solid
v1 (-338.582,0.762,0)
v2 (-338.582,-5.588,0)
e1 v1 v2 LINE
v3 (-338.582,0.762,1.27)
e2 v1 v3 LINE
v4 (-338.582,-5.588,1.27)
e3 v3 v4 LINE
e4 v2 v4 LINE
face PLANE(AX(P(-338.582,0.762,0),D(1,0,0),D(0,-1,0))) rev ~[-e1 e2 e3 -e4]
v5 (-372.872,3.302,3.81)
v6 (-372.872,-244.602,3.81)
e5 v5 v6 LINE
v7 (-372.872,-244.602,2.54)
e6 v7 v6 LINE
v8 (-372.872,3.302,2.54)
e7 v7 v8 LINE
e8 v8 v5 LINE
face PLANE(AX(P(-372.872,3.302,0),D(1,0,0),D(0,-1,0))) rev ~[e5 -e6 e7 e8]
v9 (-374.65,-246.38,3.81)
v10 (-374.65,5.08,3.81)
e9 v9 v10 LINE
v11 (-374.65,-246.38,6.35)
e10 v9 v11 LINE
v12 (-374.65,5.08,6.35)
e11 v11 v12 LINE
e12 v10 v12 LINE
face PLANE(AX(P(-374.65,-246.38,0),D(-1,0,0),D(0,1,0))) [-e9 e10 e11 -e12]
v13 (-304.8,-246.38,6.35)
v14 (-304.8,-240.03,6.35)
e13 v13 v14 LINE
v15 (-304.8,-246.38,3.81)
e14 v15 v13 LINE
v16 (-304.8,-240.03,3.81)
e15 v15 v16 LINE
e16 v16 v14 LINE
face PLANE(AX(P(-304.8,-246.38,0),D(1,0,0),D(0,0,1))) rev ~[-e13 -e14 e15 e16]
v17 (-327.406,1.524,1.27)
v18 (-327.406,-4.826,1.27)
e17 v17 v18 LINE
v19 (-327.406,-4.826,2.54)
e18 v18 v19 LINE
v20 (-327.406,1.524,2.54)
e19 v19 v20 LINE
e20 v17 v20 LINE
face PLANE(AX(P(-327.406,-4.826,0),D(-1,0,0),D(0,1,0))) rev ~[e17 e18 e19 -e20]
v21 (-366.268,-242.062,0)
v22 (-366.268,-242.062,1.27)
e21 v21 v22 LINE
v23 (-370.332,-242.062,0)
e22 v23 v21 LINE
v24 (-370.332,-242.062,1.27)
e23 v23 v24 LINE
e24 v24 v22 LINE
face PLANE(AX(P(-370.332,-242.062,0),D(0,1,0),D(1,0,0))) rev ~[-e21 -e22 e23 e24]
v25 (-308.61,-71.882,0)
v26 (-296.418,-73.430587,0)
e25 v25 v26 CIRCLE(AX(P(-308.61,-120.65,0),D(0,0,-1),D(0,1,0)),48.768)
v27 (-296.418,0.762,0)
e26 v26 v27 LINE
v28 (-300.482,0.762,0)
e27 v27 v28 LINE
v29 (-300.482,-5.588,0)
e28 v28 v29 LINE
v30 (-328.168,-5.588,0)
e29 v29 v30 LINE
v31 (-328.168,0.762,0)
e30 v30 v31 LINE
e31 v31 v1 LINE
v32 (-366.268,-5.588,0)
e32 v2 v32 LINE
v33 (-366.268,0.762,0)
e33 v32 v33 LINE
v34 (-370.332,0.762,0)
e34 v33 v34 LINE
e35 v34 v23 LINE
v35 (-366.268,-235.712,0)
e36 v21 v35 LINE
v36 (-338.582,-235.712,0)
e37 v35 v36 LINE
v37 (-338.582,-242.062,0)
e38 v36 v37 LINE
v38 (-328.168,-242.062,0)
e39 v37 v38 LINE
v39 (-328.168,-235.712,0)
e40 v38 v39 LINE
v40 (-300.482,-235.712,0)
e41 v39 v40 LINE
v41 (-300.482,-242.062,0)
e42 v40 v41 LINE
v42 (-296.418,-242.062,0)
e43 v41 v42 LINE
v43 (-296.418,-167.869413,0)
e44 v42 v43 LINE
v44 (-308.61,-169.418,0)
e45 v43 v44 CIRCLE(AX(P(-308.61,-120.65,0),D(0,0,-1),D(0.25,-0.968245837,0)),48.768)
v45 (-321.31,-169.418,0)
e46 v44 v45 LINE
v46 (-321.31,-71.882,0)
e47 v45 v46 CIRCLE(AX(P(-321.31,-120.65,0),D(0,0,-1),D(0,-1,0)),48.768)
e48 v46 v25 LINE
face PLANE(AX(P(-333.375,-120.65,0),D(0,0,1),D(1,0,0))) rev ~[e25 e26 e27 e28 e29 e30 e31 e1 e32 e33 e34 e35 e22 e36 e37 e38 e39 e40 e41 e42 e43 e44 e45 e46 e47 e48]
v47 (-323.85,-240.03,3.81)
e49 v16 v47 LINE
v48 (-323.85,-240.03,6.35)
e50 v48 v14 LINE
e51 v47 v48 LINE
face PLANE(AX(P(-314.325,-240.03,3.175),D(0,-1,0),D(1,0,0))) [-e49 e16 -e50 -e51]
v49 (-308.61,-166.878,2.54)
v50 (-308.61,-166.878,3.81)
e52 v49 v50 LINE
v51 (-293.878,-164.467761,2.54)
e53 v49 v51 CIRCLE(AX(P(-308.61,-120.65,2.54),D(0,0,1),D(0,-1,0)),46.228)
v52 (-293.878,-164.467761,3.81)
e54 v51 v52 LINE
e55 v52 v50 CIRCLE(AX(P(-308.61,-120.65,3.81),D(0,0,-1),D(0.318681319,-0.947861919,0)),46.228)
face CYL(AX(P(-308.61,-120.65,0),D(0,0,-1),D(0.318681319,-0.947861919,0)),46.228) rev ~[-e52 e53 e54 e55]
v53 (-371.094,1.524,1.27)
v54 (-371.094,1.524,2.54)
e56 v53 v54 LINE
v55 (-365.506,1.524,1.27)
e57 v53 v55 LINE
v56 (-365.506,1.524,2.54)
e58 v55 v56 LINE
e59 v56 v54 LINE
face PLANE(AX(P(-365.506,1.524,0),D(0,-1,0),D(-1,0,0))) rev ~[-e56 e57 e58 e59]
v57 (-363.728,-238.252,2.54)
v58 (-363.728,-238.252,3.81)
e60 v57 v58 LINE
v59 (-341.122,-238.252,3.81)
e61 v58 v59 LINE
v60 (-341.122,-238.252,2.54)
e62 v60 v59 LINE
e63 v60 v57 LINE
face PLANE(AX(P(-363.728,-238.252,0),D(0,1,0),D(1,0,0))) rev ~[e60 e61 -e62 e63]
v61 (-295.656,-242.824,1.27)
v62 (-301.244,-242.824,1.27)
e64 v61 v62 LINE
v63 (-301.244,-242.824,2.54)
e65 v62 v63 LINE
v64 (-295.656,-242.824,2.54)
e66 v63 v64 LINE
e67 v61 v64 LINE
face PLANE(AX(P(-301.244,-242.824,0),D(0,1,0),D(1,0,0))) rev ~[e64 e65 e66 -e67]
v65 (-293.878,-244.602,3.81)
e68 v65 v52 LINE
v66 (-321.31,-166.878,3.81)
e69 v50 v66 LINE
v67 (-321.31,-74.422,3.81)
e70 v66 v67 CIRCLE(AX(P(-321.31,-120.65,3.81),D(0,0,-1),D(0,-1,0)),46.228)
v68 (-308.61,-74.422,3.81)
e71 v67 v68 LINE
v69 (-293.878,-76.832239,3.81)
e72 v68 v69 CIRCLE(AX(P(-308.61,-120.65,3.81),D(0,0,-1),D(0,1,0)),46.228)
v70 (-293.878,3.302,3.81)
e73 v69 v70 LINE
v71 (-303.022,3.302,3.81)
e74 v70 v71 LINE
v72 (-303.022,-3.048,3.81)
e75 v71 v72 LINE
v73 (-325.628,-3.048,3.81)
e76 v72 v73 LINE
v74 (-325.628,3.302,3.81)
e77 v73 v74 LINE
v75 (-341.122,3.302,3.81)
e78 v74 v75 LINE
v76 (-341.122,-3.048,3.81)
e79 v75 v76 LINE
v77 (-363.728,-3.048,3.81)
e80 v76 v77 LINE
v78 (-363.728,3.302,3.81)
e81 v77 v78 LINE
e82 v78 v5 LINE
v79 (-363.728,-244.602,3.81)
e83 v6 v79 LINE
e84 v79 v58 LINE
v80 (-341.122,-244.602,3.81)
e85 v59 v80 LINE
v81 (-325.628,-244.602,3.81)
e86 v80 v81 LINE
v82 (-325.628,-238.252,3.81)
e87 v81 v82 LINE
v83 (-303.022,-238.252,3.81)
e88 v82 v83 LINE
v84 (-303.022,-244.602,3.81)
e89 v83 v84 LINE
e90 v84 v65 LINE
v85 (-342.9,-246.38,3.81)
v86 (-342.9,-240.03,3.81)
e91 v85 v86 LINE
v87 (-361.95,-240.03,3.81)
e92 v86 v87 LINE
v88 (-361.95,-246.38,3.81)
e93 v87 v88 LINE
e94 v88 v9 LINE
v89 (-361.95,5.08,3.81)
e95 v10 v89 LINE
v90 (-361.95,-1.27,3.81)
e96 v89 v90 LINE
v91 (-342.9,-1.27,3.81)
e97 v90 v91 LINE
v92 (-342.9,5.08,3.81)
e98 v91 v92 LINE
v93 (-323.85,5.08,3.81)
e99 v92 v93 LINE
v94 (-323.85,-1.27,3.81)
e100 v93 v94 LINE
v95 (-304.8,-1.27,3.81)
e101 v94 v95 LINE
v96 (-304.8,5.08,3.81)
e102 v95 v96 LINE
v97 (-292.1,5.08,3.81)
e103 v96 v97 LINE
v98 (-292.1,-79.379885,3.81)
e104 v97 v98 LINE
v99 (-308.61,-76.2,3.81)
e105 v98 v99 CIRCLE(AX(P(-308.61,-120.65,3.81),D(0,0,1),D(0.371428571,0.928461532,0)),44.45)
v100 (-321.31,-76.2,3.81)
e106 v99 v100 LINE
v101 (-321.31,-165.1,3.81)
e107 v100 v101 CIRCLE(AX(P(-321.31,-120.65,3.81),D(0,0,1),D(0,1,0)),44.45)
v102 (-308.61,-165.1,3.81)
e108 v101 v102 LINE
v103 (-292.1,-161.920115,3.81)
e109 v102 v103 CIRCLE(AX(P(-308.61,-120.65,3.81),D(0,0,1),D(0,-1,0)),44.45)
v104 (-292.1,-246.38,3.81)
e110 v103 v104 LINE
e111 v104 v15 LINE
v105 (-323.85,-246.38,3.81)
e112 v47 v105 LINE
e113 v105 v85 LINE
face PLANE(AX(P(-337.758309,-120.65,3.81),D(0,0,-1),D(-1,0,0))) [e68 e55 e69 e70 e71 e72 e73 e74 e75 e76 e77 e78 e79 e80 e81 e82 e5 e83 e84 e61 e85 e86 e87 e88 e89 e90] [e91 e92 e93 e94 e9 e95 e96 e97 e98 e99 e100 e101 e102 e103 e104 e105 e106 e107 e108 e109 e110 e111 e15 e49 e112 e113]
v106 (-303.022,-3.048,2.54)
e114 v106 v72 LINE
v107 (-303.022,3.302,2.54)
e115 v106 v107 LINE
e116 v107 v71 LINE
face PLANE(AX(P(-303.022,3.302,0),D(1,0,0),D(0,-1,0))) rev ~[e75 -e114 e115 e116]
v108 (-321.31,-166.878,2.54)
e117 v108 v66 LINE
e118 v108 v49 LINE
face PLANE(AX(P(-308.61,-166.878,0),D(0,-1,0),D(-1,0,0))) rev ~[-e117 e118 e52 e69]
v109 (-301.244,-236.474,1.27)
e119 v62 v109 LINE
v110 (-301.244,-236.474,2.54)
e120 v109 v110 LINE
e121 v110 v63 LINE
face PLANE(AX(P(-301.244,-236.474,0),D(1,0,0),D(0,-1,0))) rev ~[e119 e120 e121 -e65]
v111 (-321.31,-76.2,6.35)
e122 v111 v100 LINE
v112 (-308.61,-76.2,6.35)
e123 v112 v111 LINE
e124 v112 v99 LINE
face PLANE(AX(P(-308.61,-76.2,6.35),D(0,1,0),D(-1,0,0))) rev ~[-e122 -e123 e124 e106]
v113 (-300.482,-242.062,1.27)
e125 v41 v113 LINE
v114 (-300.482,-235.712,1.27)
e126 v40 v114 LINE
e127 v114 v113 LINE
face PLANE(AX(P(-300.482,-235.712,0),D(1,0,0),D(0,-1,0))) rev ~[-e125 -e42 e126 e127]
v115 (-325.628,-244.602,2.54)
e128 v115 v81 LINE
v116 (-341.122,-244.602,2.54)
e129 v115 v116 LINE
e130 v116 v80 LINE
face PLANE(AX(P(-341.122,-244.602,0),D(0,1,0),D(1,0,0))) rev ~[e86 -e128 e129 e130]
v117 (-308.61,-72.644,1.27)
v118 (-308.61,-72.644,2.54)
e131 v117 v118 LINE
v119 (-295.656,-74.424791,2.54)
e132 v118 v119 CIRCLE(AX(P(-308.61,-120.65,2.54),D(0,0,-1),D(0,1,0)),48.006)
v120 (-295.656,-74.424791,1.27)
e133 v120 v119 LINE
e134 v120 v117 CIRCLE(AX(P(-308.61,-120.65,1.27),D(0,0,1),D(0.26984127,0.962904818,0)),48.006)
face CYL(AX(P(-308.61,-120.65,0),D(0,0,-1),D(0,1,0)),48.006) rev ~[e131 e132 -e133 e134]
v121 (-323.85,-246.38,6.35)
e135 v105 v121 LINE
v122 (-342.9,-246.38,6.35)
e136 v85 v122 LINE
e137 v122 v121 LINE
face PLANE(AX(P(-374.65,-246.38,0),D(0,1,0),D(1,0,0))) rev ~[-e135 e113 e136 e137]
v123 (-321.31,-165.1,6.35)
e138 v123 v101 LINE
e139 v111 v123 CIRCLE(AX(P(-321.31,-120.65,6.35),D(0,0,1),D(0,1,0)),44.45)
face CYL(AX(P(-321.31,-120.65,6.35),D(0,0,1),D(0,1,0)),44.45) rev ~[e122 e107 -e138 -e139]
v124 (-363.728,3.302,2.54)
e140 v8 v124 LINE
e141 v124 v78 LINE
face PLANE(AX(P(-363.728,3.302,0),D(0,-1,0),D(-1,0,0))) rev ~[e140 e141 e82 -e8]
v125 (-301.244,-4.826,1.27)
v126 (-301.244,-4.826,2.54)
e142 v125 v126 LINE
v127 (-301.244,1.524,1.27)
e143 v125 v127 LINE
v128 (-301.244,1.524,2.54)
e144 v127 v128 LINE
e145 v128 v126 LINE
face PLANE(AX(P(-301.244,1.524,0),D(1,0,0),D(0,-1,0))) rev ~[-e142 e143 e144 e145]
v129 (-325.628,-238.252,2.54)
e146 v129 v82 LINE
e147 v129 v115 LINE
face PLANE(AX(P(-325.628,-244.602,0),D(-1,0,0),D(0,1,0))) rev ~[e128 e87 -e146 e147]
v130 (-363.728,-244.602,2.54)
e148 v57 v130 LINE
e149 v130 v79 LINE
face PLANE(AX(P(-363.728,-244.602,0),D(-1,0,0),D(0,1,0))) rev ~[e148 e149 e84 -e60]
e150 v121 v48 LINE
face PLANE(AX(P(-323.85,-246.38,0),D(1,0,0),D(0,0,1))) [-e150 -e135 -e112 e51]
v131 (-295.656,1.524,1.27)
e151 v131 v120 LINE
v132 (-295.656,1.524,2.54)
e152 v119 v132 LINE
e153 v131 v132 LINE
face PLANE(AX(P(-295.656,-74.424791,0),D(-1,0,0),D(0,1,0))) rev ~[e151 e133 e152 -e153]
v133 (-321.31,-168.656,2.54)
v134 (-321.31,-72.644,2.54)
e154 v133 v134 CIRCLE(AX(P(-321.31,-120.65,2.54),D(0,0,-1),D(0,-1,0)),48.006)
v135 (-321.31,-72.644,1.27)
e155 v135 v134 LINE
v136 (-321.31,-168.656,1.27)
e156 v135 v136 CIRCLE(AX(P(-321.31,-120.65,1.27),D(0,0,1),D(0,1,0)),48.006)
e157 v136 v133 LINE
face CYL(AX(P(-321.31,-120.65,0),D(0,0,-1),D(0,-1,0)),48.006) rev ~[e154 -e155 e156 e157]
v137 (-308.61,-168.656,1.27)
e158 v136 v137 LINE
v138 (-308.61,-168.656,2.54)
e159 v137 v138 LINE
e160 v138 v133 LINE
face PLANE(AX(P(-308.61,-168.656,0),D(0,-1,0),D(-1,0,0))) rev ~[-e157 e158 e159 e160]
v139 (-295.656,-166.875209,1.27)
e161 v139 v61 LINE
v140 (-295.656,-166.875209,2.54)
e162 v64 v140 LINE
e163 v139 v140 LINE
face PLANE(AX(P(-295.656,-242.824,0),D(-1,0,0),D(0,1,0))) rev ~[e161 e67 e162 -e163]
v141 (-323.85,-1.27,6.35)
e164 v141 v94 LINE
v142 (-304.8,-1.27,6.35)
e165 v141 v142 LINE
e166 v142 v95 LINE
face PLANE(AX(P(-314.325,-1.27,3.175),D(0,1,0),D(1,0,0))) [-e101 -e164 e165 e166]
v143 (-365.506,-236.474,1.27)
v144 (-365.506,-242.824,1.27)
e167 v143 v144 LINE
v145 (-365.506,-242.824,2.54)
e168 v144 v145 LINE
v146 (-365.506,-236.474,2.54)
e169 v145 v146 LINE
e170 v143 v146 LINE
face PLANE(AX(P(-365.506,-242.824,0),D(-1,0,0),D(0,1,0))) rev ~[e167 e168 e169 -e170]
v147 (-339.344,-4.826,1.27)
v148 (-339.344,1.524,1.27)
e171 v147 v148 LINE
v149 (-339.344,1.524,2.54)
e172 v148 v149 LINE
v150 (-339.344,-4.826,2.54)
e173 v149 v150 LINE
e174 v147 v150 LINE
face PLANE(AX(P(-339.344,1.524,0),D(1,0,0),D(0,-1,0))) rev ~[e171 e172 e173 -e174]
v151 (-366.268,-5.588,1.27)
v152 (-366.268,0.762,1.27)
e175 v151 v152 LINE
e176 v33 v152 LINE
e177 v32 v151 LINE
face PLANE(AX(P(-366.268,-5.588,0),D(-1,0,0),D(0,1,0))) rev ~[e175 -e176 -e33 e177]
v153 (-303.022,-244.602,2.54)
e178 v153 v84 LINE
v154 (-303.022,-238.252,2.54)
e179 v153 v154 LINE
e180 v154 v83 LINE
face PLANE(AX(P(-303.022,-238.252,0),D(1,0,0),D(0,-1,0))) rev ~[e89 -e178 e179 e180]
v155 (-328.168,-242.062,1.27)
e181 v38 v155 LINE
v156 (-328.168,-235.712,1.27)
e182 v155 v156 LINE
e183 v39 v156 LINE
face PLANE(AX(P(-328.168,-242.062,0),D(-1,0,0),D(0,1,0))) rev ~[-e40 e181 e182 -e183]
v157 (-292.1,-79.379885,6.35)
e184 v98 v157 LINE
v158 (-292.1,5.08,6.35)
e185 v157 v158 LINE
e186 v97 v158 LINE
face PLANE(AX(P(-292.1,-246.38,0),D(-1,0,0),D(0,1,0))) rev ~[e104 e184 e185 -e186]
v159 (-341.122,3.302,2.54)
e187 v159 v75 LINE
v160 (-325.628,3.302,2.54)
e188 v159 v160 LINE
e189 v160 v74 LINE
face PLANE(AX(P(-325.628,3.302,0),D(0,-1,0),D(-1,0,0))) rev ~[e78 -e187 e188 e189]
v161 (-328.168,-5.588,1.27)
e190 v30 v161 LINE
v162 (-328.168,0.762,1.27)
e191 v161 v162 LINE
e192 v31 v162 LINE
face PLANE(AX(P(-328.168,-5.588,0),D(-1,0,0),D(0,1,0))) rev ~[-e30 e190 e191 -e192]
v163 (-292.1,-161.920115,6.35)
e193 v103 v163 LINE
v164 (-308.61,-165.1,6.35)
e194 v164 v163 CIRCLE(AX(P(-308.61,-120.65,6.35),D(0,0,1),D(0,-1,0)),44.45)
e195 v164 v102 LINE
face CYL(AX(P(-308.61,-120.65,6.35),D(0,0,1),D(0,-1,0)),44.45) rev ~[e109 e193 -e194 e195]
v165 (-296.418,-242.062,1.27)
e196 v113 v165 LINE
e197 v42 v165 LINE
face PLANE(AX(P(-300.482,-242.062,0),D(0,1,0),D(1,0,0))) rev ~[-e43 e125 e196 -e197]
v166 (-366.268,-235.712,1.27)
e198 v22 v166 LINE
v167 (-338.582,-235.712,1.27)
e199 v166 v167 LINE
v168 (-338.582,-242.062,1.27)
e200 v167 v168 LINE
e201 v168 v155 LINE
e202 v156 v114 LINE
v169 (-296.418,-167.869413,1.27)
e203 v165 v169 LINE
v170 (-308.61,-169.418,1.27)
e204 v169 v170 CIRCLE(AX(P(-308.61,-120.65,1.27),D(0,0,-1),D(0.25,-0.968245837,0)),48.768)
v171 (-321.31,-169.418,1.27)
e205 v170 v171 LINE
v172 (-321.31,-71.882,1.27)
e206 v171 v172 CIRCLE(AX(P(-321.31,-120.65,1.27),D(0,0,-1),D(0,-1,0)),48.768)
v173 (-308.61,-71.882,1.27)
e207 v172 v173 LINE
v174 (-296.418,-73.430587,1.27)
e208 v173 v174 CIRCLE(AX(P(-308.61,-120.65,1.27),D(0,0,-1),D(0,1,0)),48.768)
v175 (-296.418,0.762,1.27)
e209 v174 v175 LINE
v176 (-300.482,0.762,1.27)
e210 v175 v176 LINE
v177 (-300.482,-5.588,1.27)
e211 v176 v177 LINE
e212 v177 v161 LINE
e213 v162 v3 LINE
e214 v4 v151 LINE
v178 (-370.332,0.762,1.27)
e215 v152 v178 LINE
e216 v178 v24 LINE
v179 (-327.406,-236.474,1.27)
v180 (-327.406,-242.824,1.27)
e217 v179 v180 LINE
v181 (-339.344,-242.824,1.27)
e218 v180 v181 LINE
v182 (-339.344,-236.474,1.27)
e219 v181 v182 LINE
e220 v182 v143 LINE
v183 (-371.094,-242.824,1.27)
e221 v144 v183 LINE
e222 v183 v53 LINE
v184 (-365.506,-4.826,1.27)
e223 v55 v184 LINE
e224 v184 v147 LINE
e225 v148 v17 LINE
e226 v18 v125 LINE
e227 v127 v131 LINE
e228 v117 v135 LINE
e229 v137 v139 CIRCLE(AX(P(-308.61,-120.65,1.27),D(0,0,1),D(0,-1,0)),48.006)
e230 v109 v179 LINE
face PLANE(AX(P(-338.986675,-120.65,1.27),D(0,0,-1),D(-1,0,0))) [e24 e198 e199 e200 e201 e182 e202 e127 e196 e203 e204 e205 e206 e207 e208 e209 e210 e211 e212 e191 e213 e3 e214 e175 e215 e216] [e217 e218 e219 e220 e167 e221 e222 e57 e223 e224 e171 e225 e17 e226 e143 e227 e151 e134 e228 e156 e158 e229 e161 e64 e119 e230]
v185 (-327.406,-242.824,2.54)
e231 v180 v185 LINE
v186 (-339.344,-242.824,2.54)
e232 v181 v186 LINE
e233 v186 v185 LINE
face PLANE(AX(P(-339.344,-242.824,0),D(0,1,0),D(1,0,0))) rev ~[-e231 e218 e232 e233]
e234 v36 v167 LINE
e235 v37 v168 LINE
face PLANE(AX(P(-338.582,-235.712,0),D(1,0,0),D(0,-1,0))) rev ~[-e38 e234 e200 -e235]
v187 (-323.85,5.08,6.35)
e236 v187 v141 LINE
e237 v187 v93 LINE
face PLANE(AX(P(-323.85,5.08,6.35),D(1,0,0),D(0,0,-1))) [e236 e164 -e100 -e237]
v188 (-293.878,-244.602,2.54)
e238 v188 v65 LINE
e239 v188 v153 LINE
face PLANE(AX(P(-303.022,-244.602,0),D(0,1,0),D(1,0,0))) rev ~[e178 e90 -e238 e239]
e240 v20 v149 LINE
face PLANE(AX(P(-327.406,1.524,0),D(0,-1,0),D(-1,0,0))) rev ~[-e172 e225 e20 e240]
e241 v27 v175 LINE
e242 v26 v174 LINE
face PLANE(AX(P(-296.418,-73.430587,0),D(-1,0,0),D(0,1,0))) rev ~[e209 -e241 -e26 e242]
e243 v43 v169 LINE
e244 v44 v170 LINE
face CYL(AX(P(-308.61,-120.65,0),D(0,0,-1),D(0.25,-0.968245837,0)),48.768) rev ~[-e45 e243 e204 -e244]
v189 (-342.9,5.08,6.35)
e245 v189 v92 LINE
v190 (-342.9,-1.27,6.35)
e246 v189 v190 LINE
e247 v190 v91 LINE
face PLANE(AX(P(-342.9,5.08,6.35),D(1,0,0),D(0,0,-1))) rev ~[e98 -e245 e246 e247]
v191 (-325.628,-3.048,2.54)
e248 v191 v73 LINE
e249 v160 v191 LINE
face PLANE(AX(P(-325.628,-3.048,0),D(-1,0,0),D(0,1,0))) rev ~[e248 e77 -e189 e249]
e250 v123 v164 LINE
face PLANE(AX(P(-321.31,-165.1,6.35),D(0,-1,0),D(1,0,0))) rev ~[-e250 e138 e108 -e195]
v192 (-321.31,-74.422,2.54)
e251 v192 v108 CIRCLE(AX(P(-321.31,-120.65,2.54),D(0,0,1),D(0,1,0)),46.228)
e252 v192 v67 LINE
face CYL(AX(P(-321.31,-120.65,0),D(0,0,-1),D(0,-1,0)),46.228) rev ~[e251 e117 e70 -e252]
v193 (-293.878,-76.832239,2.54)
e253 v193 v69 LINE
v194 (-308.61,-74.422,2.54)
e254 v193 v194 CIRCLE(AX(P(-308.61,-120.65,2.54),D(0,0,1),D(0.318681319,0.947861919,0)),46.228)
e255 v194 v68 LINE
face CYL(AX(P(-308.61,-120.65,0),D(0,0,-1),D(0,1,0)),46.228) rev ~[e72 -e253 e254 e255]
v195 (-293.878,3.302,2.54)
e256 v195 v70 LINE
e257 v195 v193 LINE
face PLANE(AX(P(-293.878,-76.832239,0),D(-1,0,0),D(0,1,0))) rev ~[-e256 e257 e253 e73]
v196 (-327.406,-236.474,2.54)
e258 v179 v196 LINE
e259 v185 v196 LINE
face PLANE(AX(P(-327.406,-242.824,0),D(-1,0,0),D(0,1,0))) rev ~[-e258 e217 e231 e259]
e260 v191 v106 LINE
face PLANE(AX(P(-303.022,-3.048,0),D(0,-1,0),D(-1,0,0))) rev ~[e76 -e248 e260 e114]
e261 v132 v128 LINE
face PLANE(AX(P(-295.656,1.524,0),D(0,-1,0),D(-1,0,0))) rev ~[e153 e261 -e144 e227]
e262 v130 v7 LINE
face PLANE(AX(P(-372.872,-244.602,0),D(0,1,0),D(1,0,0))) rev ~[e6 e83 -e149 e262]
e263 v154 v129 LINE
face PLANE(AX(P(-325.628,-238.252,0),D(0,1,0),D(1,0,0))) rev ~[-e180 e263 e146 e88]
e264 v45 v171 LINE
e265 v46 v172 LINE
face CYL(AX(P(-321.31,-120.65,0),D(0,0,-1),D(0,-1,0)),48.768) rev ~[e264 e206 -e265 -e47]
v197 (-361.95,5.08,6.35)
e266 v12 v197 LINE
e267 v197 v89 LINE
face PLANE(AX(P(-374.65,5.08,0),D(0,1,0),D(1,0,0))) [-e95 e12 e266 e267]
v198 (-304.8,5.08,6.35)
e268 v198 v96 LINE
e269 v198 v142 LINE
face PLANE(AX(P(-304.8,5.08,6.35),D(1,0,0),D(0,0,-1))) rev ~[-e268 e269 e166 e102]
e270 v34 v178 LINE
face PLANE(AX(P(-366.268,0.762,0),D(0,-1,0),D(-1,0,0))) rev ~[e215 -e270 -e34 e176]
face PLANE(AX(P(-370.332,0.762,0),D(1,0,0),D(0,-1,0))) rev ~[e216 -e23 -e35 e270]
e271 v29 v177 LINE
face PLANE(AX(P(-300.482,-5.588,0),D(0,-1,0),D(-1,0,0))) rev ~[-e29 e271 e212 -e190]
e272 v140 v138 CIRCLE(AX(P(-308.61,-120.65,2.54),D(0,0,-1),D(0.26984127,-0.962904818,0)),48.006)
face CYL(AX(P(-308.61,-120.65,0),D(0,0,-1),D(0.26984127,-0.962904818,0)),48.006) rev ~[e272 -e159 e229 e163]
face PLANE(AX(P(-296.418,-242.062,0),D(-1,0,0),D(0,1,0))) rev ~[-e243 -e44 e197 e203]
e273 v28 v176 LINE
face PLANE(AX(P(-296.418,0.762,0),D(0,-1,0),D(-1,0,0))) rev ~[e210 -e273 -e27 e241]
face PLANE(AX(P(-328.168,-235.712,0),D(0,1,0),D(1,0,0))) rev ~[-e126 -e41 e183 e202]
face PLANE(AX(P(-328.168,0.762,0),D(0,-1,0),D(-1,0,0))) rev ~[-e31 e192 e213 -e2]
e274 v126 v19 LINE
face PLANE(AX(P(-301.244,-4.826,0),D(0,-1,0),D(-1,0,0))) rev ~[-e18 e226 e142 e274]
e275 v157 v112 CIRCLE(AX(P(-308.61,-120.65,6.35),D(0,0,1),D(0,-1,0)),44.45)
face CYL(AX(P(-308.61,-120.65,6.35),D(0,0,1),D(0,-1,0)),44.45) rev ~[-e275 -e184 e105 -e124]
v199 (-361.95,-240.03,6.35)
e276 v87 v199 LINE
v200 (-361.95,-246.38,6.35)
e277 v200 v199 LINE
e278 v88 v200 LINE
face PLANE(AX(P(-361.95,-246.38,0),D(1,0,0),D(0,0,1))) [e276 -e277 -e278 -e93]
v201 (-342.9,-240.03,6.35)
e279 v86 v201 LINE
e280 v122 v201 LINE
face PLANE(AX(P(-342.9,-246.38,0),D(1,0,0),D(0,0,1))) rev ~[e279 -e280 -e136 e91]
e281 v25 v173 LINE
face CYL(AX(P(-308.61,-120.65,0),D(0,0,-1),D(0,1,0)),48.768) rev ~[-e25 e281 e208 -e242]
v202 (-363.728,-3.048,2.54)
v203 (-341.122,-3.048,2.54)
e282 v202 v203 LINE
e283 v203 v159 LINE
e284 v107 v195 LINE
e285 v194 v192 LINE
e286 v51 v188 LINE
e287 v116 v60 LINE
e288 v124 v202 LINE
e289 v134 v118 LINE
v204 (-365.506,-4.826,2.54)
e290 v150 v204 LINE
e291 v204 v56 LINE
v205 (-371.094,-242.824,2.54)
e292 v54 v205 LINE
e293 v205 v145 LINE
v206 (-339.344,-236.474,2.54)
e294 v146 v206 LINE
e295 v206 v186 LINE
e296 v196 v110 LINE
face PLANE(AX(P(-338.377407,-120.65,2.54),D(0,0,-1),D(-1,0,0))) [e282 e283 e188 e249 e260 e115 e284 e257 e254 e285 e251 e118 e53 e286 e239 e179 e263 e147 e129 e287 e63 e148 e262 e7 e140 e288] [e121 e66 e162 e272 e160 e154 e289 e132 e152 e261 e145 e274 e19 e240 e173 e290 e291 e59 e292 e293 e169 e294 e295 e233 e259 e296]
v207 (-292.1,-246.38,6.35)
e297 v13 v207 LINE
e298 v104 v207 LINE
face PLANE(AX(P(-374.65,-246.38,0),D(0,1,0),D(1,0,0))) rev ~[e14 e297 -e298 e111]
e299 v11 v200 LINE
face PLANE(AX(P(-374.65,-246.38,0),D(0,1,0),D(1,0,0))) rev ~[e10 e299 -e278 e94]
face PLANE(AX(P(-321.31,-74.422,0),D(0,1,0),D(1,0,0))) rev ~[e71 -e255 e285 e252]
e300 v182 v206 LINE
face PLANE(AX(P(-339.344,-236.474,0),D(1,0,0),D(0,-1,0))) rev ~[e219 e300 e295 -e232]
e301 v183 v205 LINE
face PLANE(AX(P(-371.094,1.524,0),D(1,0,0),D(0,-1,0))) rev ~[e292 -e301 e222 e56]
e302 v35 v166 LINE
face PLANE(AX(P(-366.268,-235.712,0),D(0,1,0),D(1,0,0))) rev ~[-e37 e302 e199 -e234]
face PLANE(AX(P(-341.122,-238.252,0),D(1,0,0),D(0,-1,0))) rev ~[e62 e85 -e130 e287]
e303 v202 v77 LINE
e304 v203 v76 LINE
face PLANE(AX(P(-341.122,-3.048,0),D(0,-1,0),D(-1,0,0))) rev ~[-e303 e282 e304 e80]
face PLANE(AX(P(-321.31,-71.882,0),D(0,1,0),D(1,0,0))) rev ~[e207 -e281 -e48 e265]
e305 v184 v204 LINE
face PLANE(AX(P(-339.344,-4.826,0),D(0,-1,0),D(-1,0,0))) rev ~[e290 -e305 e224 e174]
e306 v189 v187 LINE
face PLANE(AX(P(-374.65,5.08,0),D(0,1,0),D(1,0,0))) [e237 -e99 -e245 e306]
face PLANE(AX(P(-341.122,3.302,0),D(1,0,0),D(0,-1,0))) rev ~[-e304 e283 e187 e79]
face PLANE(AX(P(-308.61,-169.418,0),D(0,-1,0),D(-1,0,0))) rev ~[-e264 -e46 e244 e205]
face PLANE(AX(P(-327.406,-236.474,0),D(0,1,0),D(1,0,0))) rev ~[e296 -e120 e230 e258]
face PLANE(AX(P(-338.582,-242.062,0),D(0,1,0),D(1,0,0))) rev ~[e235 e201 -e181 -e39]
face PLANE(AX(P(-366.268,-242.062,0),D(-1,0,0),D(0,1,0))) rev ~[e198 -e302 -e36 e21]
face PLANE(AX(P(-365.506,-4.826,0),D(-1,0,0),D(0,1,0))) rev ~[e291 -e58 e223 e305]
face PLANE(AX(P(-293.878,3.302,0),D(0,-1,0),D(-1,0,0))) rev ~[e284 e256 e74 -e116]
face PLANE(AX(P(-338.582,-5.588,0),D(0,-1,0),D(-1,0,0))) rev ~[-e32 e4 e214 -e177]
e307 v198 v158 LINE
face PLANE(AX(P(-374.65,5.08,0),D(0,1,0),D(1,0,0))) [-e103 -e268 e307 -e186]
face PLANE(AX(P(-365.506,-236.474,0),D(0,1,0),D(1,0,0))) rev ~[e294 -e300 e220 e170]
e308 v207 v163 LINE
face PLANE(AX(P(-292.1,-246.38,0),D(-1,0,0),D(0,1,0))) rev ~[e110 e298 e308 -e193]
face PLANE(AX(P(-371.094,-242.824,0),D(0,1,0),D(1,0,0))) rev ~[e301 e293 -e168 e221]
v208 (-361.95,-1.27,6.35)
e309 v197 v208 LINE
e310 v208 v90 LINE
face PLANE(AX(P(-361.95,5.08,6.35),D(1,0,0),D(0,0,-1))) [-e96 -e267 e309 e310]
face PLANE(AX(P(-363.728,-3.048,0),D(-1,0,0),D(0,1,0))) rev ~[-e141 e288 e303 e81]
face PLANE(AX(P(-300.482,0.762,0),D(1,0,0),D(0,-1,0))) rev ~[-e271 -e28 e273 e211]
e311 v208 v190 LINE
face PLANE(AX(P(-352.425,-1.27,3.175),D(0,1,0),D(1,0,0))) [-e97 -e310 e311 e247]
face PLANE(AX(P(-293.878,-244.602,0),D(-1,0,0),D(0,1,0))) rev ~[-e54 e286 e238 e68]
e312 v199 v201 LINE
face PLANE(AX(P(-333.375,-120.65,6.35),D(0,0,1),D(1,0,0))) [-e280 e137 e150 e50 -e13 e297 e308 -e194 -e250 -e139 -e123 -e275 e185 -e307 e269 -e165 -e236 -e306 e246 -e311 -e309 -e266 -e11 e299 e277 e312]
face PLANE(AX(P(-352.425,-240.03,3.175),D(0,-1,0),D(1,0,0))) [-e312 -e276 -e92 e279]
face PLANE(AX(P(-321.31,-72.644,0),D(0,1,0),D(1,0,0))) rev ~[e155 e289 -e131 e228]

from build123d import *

# Parameters (mm, degrees)
SKETCH1_W           = 82.55
SKETCH1_H           = 251.46
BOSS_EXTRUDE1_DEPTH = 6.35
SKETCH2_W           = 19.05
SKETCH2_H           = 6.35
CUT_EXTRUDE2_DEPTH  = 6.35
SKETCH5_W           = 19.05
SKETCH5_H           = 6.35
CUT_EXTRUDE4_DEPTH  = 6.35
CUT_EXTRUDE5_DEPTH  = 7.35
CUT_EXTRUDE6_DEPTH  = 3.81
CUT_EXTRUDE7_DEPTH  = 2.54
CUT_EXTRUDE8_DEPTH  = 1.27


with BuildPart() as part:
    # Sketch1 → Boss-Extrude1 (new body)
    with BuildSketch(Plane.XY):
        with Locations((-333.375, -120.65)):
            Rectangle(SKETCH1_W, SKETCH1_H)
    extrude(amount=BOSS_EXTRUDE1_DEPTH)

    # Sketch2 → Cut-Extrude2 (cut)
    with BuildSketch(Plane(origin=(0, 5.08, 0), x_dir=(1, 0, 0), z_dir=(0, 1, 0))):
        with Locations((-352.425, -3.175)):
            Rectangle(SKETCH2_W, SKETCH2_H)
        with Locations((-314.325, -3.175)):
            Rectangle(SKETCH2_W, SKETCH2_H)
    extrude(amount=-CUT_EXTRUDE2_DEPTH, mode=Mode.SUBTRACT)

    # Sketch5 → Cut-Extrude4 (cut)
    with BuildSketch(Plane.XZ.offset(246.38)):
        with Locations((-352.425, 3.175)):
            Rectangle(SKETCH5_W, SKETCH5_H)
        with Locations((-314.325, 3.175)):
            Rectangle(SKETCH5_W, SKETCH5_H)
    extrude(amount=-CUT_EXTRUDE4_DEPTH, mode=Mode.SUBTRACT)

    # Sketch6 → Cut-Extrude5 (cut, through all)
    with BuildSketch(Plane.XY.offset(6.35)):
        with BuildLine():
            Line((-321.31, -165.1), (-308.61, -165.1))
            ThreePointArc((-308.61, -165.1), (-264.16, -120.65), (-308.61, -76.2))
            Line((-308.61, -76.2), (-321.31, -76.2))
            ThreePointArc((-321.31, -76.2), (-365.76, -120.65), (-321.31, -165.1))
        make_face()
    extrude(amount=-CUT_EXTRUDE5_DEPTH, mode=Mode.SUBTRACT)

    # Sketch8 → Cut-Extrude6 (cut)
    with BuildSketch(Plane(origin=(0, 0, 0), x_dir=(-1, 0, 0), z_dir=(0, 0, -1))):
        with BuildLine():
            Line((374.65, 5.08), (361.95, 5.08))
            Line((361.95, 5.08), (361.95, -1.27))
            Line((361.95, -1.27), (342.9, -1.27))
            Line((342.9, -1.27), (342.9, 5.08))
            Line((342.9, 5.08), (323.85, 5.08))
            Line((323.85, 5.08), (323.85, -1.27))
            Line((323.85, -1.27), (304.8, -1.27))
            Line((304.8, -1.27), (304.8, 5.08))
            Line((304.8, 5.08), (292.1, 5.08))
            Line((292.1, 5.08), (292.1, -79.379884904))
            ThreePointArc((292.1, -79.379884904), (300.20327995, -77.002210159), (308.61, -76.2))
            Line((308.61, -76.2), (321.31, -76.2))
            ThreePointArc((321.31, -76.2), (365.76, -120.65), (321.31, -165.1))
            Line((321.31, -165.1), (308.61, -165.1))
            ThreePointArc((308.61, -165.1), (300.20327995, -164.297789841), (292.1, -161.920115096))
            Line((292.1, -161.920115096), (292.1, -246.38))
            Line((292.1, -246.38), (304.8, -246.38))
            Line((304.8, -246.38), (304.8, -240.03))
            Line((304.8, -240.03), (323.85, -240.03))
            Line((323.85, -240.03), (323.85, -246.38))
            Line((323.85, -246.38), (342.9, -246.38))
            Line((342.9, -246.38), (342.9, -240.03))
            Line((342.9, -240.03), (361.95, -240.03))
            Line((361.95, -240.03), (361.95, -246.38))
            Line((361.95, -246.38), (374.65, -246.38))
            Line((374.65, -246.38), (374.65, 5.08))
        make_face()
        with BuildLine():
            Line((321.31, -74.422), (308.61, -74.422))
            ThreePointArc((308.61, -74.422), (301.146068779, -75.02853888), (293.878, -76.832239217))
            Line((293.878, -76.832239217), (293.878, 3.302))
            Line((293.878, 3.302), (303.022, 3.302))
            Line((303.022, 3.302), (303.022, -3.048))
            Line((303.022, -3.048), (325.628, -3.048))
            Line((325.628, -3.048), (325.628, 3.302))
            Line((325.628, 3.302), (341.122, 3.302))
            Line((341.122, 3.302), (341.122, -3.048))
            Line((341.122, -3.048), (363.728, -3.048))
            Line((363.728, -3.048), (363.728, 3.302))
            Line((363.728, 3.302), (372.872, 3.302))
            Line((372.872, 3.302), (372.872, -244.602))
            Line((372.872, -244.602), (363.728, -244.602))
            Line((363.728, -244.602), (363.728, -238.252))
            Line((363.728, -238.252), (341.122, -238.252))
            Line((341.122, -238.252), (341.122, -244.602))
            Line((341.122, -244.602), (325.628, -244.602))
            Line((325.628, -244.602), (325.628, -238.252))
            Line((325.628, -238.252), (303.022, -238.252))
            Line((303.022, -238.252), (303.022, -244.602))
            Line((303.022, -244.602), (293.878, -244.602))
            Line((293.878, -244.602), (293.878, -164.467760783))
            ThreePointArc((293.878, -164.467760783), (301.146068779, -166.27146112), (308.61, -166.878))
            Line((308.61, -166.878), (321.31, -166.878))
            ThreePointArc((321.31, -166.878), (367.538, -120.65), (321.31, -74.422))
        make_face(mode=Mode.SUBTRACT)
    extrude(amount=-CUT_EXTRUDE6_DEPTH, mode=Mode.SUBTRACT)

    # Sketch9 → Cut-Extrude7 (cut)
    with BuildSketch(Plane(origin=(0, 0, 0), x_dir=(-1, 0, 0), z_dir=(0, 0, -1))):
        with BuildLine():
            Line((308.61, -74.422), (321.31, -74.422))
            ThreePointArc((321.31, -74.422), (367.538, -120.65), (321.31, -166.878))
            Line((321.31, -166.878), (308.61, -166.878))
            ThreePointArc((308.61, -166.878), (301.146068779, -166.27146112), (293.878, -164.467760783))
            Line((293.878, -164.467760783), (293.878, -244.602))
            Line((293.878, -244.602), (303.022, -244.602))
            Line((303.022, -244.602), (303.022, -238.252))
            Line((303.022, -238.252), (325.628, -238.252))
            Line((325.628, -238.252), (325.628, -244.602))
            Line((325.628, -244.602), (341.122, -244.602))
            Line((341.122, -244.602), (341.122, -238.252))
            Line((341.122, -238.252), (363.728, -238.252))
            Line((363.728, -238.252), (363.728, -244.602))
            Line((363.728, -244.602), (372.872, -244.602))
            Line((372.872, -244.602), (372.872, 3.302))
            Line((372.872, 3.302), (363.728, 3.302))
            Line((363.728, 3.302), (363.728, -3.048))
            Line((363.728, -3.048), (341.122, -3.048))
            Line((341.122, -3.048), (341.122, 3.302))
            Line((341.122, 3.302), (325.628, 3.302))
            Line((325.628, 3.302), (325.628, -3.048))
            Line((325.628, -3.048), (303.022, -3.048))
            Line((303.022, -3.048), (303.022, 3.302))
            Line((303.022, 3.302), (293.878, 3.302))
            Line((293.878, 3.302), (293.878, -76.832239217))
            ThreePointArc((293.878, -76.832239217), (301.146068779, -75.02853888), (308.61, -74.422))
        make_face()
        with BuildLine():
            Line((295.656, -242.824), (295.656, -166.875208707))
            ThreePointArc((295.656, -166.875208707), (302.072084934, -168.208718471), (308.61, -168.656))
            Line((308.61, -168.656), (321.31, -168.656))
            ThreePointArc((321.31, -168.656), (369.316, -120.65), (321.31, -72.644))
            Line((321.31, -72.644), (308.61, -72.644))
            ThreePointArc((308.61, -72.644), (302.072084934, -73.091281529), (295.656, -74.424791293))
            Line((295.656, -74.424791293), (295.656, 1.524))
            Line((295.656, 1.524), (301.244, 1.524))
            Line((301.244, 1.524), (301.244, -4.826))
            Line((301.244, -4.826), (327.406, -4.826))
            Line((327.406, -4.826), (327.406, 1.524))
            Line((327.406, 1.524), (339.344, 1.524))
            Line((339.344, 1.524), (339.344, -4.826))
            Line((339.344, -4.826), (365.506, -4.826))
            Line((365.506, -4.826), (365.506, 1.524))
            Line((365.506, 1.524), (371.094, 1.524))
            Line((371.094, 1.524), (371.094, -242.824))
            Line((371.094, -242.824), (365.506, -242.824))
            Line((365.506, -242.824), (365.506, -236.474))
            Line((365.506, -236.474), (339.344, -236.474))
            Line((339.344, -236.474), (339.344, -242.824))
            Line((339.344, -242.824), (327.406, -242.824))
            Line((327.406, -242.824), (327.406, -236.474))
            Line((327.406, -236.474), (301.244, -236.474))
            Line((301.244, -236.474), (301.244, -242.824))
            Line((301.244, -242.824), (295.656, -242.824))
        make_face(mode=Mode.SUBTRACT)
    extrude(amount=-CUT_EXTRUDE7_DEPTH, mode=Mode.SUBTRACT)

    # Sketch10 → Cut-Extrude8 (cut)
    with BuildSketch(Plane(origin=(0, 0, 0), x_dir=(-1, 0, 0), z_dir=(0, 0, -1))):
        with BuildLine():
            Line((295.656, -166.875208707), (295.656, -242.824))
            Line((295.656, -242.824), (301.244, -242.824))
            Line((301.244, -242.824), (301.244, -236.474))
            Line((301.244, -236.474), (327.406, -236.474))
            Line((327.406, -236.474), (327.406, -242.824))
            Line((327.406, -242.824), (339.344, -242.824))
            Line((339.344, -242.824), (339.344, -236.474))
            Line((339.344, -236.474), (365.506, -236.474))
            Line((365.506, -236.474), (365.506, -242.824))
            Line((365.506, -242.824), (371.094, -242.824))
            Line((371.094, -242.824), (371.094, 1.524))
            Line((371.094, 1.524), (365.506, 1.524))
            Line((365.506, 1.524), (365.506, -4.826))
            Line((365.506, -4.826), (339.344, -4.826))
            Line((339.344, -4.826), (339.344, 1.524))
            Line((339.344, 1.524), (327.406, 1.524))
            Line((327.406, 1.524), (327.406, -4.826))
            Line((327.406, -4.826), (301.244, -4.826))
            Line((301.244, -4.826), (301.244, 1.524))
            Line((301.244, 1.524), (295.656, 1.524))
            Line((295.656, 1.524), (295.656, -74.424791293))
            ThreePointArc((295.656, -74.424791293), (302.072084934, -73.091281529), (308.61, -72.644))
            Line((308.61, -72.644), (321.31, -72.644))
            ThreePointArc((321.31, -72.644), (369.316, -120.65), (321.31, -168.656))
            Line((321.31, -168.656), (308.61, -168.656))
            ThreePointArc((308.61, -168.656), (302.072084934, -168.208718471), (295.656, -166.875208707))
        make_face()
        with BuildLine():
            Line((308.61, -169.418), (321.31, -169.418))
            ThreePointArc((321.31, -169.418), (370.078, -120.65), (321.31, -71.882))
            Line((321.31, -71.882), (308.61, -71.882))
            ThreePointArc((308.61, -71.882), (302.465022664, -72.270695772), (296.418, -73.430587043))
            Line((296.418, -73.430587043), (296.418, 0.762))
            Line((296.418, 0.762), (300.482, 0.762))
            Line((300.482, 0.762), (300.482, -5.588))
            Line((300.482, -5.588), (328.168, -5.588))
            Line((328.168, -5.588), (328.168, 0.762))
            Line((328.168, 0.762), (338.582, 0.762))
            Line((338.582, 0.762), (338.582, -5.588))
            Line((338.582, -5.588), (366.268, -5.588))
            Line((366.268, -5.588), (366.268, 0.762))
            Line((366.268, 0.762), (370.332, 0.762))
            Line((370.332, 0.762), (370.332, -242.062))
            Line((370.332, -242.062), (366.268, -242.062))
            Line((366.268, -242.062), (366.268, -235.712))
            Line((366.268, -235.712), (338.582, -235.712))
            Line((338.582, -235.712), (338.582, -242.062))
            Line((338.582, -242.062), (328.168, -242.062))
            Line((328.168, -242.062), (328.168, -235.712))
            Line((328.168, -235.712), (300.482, -235.712))
            Line((300.482, -235.712), (300.482, -242.062))
            Line((300.482, -242.062), (296.418, -242.062))
            Line((296.418, -242.062), (296.418, -167.869412957))
            ThreePointArc((296.418, -167.869412957), (302.465022664, -169.029304228), (308.61, -169.418))
        make_face(mode=Mode.SUBTRACT)
    extrude(amount=-CUT_EXTRUDE8_DEPTH, mode=Mode.SUBTRACT)


solid = part.part
